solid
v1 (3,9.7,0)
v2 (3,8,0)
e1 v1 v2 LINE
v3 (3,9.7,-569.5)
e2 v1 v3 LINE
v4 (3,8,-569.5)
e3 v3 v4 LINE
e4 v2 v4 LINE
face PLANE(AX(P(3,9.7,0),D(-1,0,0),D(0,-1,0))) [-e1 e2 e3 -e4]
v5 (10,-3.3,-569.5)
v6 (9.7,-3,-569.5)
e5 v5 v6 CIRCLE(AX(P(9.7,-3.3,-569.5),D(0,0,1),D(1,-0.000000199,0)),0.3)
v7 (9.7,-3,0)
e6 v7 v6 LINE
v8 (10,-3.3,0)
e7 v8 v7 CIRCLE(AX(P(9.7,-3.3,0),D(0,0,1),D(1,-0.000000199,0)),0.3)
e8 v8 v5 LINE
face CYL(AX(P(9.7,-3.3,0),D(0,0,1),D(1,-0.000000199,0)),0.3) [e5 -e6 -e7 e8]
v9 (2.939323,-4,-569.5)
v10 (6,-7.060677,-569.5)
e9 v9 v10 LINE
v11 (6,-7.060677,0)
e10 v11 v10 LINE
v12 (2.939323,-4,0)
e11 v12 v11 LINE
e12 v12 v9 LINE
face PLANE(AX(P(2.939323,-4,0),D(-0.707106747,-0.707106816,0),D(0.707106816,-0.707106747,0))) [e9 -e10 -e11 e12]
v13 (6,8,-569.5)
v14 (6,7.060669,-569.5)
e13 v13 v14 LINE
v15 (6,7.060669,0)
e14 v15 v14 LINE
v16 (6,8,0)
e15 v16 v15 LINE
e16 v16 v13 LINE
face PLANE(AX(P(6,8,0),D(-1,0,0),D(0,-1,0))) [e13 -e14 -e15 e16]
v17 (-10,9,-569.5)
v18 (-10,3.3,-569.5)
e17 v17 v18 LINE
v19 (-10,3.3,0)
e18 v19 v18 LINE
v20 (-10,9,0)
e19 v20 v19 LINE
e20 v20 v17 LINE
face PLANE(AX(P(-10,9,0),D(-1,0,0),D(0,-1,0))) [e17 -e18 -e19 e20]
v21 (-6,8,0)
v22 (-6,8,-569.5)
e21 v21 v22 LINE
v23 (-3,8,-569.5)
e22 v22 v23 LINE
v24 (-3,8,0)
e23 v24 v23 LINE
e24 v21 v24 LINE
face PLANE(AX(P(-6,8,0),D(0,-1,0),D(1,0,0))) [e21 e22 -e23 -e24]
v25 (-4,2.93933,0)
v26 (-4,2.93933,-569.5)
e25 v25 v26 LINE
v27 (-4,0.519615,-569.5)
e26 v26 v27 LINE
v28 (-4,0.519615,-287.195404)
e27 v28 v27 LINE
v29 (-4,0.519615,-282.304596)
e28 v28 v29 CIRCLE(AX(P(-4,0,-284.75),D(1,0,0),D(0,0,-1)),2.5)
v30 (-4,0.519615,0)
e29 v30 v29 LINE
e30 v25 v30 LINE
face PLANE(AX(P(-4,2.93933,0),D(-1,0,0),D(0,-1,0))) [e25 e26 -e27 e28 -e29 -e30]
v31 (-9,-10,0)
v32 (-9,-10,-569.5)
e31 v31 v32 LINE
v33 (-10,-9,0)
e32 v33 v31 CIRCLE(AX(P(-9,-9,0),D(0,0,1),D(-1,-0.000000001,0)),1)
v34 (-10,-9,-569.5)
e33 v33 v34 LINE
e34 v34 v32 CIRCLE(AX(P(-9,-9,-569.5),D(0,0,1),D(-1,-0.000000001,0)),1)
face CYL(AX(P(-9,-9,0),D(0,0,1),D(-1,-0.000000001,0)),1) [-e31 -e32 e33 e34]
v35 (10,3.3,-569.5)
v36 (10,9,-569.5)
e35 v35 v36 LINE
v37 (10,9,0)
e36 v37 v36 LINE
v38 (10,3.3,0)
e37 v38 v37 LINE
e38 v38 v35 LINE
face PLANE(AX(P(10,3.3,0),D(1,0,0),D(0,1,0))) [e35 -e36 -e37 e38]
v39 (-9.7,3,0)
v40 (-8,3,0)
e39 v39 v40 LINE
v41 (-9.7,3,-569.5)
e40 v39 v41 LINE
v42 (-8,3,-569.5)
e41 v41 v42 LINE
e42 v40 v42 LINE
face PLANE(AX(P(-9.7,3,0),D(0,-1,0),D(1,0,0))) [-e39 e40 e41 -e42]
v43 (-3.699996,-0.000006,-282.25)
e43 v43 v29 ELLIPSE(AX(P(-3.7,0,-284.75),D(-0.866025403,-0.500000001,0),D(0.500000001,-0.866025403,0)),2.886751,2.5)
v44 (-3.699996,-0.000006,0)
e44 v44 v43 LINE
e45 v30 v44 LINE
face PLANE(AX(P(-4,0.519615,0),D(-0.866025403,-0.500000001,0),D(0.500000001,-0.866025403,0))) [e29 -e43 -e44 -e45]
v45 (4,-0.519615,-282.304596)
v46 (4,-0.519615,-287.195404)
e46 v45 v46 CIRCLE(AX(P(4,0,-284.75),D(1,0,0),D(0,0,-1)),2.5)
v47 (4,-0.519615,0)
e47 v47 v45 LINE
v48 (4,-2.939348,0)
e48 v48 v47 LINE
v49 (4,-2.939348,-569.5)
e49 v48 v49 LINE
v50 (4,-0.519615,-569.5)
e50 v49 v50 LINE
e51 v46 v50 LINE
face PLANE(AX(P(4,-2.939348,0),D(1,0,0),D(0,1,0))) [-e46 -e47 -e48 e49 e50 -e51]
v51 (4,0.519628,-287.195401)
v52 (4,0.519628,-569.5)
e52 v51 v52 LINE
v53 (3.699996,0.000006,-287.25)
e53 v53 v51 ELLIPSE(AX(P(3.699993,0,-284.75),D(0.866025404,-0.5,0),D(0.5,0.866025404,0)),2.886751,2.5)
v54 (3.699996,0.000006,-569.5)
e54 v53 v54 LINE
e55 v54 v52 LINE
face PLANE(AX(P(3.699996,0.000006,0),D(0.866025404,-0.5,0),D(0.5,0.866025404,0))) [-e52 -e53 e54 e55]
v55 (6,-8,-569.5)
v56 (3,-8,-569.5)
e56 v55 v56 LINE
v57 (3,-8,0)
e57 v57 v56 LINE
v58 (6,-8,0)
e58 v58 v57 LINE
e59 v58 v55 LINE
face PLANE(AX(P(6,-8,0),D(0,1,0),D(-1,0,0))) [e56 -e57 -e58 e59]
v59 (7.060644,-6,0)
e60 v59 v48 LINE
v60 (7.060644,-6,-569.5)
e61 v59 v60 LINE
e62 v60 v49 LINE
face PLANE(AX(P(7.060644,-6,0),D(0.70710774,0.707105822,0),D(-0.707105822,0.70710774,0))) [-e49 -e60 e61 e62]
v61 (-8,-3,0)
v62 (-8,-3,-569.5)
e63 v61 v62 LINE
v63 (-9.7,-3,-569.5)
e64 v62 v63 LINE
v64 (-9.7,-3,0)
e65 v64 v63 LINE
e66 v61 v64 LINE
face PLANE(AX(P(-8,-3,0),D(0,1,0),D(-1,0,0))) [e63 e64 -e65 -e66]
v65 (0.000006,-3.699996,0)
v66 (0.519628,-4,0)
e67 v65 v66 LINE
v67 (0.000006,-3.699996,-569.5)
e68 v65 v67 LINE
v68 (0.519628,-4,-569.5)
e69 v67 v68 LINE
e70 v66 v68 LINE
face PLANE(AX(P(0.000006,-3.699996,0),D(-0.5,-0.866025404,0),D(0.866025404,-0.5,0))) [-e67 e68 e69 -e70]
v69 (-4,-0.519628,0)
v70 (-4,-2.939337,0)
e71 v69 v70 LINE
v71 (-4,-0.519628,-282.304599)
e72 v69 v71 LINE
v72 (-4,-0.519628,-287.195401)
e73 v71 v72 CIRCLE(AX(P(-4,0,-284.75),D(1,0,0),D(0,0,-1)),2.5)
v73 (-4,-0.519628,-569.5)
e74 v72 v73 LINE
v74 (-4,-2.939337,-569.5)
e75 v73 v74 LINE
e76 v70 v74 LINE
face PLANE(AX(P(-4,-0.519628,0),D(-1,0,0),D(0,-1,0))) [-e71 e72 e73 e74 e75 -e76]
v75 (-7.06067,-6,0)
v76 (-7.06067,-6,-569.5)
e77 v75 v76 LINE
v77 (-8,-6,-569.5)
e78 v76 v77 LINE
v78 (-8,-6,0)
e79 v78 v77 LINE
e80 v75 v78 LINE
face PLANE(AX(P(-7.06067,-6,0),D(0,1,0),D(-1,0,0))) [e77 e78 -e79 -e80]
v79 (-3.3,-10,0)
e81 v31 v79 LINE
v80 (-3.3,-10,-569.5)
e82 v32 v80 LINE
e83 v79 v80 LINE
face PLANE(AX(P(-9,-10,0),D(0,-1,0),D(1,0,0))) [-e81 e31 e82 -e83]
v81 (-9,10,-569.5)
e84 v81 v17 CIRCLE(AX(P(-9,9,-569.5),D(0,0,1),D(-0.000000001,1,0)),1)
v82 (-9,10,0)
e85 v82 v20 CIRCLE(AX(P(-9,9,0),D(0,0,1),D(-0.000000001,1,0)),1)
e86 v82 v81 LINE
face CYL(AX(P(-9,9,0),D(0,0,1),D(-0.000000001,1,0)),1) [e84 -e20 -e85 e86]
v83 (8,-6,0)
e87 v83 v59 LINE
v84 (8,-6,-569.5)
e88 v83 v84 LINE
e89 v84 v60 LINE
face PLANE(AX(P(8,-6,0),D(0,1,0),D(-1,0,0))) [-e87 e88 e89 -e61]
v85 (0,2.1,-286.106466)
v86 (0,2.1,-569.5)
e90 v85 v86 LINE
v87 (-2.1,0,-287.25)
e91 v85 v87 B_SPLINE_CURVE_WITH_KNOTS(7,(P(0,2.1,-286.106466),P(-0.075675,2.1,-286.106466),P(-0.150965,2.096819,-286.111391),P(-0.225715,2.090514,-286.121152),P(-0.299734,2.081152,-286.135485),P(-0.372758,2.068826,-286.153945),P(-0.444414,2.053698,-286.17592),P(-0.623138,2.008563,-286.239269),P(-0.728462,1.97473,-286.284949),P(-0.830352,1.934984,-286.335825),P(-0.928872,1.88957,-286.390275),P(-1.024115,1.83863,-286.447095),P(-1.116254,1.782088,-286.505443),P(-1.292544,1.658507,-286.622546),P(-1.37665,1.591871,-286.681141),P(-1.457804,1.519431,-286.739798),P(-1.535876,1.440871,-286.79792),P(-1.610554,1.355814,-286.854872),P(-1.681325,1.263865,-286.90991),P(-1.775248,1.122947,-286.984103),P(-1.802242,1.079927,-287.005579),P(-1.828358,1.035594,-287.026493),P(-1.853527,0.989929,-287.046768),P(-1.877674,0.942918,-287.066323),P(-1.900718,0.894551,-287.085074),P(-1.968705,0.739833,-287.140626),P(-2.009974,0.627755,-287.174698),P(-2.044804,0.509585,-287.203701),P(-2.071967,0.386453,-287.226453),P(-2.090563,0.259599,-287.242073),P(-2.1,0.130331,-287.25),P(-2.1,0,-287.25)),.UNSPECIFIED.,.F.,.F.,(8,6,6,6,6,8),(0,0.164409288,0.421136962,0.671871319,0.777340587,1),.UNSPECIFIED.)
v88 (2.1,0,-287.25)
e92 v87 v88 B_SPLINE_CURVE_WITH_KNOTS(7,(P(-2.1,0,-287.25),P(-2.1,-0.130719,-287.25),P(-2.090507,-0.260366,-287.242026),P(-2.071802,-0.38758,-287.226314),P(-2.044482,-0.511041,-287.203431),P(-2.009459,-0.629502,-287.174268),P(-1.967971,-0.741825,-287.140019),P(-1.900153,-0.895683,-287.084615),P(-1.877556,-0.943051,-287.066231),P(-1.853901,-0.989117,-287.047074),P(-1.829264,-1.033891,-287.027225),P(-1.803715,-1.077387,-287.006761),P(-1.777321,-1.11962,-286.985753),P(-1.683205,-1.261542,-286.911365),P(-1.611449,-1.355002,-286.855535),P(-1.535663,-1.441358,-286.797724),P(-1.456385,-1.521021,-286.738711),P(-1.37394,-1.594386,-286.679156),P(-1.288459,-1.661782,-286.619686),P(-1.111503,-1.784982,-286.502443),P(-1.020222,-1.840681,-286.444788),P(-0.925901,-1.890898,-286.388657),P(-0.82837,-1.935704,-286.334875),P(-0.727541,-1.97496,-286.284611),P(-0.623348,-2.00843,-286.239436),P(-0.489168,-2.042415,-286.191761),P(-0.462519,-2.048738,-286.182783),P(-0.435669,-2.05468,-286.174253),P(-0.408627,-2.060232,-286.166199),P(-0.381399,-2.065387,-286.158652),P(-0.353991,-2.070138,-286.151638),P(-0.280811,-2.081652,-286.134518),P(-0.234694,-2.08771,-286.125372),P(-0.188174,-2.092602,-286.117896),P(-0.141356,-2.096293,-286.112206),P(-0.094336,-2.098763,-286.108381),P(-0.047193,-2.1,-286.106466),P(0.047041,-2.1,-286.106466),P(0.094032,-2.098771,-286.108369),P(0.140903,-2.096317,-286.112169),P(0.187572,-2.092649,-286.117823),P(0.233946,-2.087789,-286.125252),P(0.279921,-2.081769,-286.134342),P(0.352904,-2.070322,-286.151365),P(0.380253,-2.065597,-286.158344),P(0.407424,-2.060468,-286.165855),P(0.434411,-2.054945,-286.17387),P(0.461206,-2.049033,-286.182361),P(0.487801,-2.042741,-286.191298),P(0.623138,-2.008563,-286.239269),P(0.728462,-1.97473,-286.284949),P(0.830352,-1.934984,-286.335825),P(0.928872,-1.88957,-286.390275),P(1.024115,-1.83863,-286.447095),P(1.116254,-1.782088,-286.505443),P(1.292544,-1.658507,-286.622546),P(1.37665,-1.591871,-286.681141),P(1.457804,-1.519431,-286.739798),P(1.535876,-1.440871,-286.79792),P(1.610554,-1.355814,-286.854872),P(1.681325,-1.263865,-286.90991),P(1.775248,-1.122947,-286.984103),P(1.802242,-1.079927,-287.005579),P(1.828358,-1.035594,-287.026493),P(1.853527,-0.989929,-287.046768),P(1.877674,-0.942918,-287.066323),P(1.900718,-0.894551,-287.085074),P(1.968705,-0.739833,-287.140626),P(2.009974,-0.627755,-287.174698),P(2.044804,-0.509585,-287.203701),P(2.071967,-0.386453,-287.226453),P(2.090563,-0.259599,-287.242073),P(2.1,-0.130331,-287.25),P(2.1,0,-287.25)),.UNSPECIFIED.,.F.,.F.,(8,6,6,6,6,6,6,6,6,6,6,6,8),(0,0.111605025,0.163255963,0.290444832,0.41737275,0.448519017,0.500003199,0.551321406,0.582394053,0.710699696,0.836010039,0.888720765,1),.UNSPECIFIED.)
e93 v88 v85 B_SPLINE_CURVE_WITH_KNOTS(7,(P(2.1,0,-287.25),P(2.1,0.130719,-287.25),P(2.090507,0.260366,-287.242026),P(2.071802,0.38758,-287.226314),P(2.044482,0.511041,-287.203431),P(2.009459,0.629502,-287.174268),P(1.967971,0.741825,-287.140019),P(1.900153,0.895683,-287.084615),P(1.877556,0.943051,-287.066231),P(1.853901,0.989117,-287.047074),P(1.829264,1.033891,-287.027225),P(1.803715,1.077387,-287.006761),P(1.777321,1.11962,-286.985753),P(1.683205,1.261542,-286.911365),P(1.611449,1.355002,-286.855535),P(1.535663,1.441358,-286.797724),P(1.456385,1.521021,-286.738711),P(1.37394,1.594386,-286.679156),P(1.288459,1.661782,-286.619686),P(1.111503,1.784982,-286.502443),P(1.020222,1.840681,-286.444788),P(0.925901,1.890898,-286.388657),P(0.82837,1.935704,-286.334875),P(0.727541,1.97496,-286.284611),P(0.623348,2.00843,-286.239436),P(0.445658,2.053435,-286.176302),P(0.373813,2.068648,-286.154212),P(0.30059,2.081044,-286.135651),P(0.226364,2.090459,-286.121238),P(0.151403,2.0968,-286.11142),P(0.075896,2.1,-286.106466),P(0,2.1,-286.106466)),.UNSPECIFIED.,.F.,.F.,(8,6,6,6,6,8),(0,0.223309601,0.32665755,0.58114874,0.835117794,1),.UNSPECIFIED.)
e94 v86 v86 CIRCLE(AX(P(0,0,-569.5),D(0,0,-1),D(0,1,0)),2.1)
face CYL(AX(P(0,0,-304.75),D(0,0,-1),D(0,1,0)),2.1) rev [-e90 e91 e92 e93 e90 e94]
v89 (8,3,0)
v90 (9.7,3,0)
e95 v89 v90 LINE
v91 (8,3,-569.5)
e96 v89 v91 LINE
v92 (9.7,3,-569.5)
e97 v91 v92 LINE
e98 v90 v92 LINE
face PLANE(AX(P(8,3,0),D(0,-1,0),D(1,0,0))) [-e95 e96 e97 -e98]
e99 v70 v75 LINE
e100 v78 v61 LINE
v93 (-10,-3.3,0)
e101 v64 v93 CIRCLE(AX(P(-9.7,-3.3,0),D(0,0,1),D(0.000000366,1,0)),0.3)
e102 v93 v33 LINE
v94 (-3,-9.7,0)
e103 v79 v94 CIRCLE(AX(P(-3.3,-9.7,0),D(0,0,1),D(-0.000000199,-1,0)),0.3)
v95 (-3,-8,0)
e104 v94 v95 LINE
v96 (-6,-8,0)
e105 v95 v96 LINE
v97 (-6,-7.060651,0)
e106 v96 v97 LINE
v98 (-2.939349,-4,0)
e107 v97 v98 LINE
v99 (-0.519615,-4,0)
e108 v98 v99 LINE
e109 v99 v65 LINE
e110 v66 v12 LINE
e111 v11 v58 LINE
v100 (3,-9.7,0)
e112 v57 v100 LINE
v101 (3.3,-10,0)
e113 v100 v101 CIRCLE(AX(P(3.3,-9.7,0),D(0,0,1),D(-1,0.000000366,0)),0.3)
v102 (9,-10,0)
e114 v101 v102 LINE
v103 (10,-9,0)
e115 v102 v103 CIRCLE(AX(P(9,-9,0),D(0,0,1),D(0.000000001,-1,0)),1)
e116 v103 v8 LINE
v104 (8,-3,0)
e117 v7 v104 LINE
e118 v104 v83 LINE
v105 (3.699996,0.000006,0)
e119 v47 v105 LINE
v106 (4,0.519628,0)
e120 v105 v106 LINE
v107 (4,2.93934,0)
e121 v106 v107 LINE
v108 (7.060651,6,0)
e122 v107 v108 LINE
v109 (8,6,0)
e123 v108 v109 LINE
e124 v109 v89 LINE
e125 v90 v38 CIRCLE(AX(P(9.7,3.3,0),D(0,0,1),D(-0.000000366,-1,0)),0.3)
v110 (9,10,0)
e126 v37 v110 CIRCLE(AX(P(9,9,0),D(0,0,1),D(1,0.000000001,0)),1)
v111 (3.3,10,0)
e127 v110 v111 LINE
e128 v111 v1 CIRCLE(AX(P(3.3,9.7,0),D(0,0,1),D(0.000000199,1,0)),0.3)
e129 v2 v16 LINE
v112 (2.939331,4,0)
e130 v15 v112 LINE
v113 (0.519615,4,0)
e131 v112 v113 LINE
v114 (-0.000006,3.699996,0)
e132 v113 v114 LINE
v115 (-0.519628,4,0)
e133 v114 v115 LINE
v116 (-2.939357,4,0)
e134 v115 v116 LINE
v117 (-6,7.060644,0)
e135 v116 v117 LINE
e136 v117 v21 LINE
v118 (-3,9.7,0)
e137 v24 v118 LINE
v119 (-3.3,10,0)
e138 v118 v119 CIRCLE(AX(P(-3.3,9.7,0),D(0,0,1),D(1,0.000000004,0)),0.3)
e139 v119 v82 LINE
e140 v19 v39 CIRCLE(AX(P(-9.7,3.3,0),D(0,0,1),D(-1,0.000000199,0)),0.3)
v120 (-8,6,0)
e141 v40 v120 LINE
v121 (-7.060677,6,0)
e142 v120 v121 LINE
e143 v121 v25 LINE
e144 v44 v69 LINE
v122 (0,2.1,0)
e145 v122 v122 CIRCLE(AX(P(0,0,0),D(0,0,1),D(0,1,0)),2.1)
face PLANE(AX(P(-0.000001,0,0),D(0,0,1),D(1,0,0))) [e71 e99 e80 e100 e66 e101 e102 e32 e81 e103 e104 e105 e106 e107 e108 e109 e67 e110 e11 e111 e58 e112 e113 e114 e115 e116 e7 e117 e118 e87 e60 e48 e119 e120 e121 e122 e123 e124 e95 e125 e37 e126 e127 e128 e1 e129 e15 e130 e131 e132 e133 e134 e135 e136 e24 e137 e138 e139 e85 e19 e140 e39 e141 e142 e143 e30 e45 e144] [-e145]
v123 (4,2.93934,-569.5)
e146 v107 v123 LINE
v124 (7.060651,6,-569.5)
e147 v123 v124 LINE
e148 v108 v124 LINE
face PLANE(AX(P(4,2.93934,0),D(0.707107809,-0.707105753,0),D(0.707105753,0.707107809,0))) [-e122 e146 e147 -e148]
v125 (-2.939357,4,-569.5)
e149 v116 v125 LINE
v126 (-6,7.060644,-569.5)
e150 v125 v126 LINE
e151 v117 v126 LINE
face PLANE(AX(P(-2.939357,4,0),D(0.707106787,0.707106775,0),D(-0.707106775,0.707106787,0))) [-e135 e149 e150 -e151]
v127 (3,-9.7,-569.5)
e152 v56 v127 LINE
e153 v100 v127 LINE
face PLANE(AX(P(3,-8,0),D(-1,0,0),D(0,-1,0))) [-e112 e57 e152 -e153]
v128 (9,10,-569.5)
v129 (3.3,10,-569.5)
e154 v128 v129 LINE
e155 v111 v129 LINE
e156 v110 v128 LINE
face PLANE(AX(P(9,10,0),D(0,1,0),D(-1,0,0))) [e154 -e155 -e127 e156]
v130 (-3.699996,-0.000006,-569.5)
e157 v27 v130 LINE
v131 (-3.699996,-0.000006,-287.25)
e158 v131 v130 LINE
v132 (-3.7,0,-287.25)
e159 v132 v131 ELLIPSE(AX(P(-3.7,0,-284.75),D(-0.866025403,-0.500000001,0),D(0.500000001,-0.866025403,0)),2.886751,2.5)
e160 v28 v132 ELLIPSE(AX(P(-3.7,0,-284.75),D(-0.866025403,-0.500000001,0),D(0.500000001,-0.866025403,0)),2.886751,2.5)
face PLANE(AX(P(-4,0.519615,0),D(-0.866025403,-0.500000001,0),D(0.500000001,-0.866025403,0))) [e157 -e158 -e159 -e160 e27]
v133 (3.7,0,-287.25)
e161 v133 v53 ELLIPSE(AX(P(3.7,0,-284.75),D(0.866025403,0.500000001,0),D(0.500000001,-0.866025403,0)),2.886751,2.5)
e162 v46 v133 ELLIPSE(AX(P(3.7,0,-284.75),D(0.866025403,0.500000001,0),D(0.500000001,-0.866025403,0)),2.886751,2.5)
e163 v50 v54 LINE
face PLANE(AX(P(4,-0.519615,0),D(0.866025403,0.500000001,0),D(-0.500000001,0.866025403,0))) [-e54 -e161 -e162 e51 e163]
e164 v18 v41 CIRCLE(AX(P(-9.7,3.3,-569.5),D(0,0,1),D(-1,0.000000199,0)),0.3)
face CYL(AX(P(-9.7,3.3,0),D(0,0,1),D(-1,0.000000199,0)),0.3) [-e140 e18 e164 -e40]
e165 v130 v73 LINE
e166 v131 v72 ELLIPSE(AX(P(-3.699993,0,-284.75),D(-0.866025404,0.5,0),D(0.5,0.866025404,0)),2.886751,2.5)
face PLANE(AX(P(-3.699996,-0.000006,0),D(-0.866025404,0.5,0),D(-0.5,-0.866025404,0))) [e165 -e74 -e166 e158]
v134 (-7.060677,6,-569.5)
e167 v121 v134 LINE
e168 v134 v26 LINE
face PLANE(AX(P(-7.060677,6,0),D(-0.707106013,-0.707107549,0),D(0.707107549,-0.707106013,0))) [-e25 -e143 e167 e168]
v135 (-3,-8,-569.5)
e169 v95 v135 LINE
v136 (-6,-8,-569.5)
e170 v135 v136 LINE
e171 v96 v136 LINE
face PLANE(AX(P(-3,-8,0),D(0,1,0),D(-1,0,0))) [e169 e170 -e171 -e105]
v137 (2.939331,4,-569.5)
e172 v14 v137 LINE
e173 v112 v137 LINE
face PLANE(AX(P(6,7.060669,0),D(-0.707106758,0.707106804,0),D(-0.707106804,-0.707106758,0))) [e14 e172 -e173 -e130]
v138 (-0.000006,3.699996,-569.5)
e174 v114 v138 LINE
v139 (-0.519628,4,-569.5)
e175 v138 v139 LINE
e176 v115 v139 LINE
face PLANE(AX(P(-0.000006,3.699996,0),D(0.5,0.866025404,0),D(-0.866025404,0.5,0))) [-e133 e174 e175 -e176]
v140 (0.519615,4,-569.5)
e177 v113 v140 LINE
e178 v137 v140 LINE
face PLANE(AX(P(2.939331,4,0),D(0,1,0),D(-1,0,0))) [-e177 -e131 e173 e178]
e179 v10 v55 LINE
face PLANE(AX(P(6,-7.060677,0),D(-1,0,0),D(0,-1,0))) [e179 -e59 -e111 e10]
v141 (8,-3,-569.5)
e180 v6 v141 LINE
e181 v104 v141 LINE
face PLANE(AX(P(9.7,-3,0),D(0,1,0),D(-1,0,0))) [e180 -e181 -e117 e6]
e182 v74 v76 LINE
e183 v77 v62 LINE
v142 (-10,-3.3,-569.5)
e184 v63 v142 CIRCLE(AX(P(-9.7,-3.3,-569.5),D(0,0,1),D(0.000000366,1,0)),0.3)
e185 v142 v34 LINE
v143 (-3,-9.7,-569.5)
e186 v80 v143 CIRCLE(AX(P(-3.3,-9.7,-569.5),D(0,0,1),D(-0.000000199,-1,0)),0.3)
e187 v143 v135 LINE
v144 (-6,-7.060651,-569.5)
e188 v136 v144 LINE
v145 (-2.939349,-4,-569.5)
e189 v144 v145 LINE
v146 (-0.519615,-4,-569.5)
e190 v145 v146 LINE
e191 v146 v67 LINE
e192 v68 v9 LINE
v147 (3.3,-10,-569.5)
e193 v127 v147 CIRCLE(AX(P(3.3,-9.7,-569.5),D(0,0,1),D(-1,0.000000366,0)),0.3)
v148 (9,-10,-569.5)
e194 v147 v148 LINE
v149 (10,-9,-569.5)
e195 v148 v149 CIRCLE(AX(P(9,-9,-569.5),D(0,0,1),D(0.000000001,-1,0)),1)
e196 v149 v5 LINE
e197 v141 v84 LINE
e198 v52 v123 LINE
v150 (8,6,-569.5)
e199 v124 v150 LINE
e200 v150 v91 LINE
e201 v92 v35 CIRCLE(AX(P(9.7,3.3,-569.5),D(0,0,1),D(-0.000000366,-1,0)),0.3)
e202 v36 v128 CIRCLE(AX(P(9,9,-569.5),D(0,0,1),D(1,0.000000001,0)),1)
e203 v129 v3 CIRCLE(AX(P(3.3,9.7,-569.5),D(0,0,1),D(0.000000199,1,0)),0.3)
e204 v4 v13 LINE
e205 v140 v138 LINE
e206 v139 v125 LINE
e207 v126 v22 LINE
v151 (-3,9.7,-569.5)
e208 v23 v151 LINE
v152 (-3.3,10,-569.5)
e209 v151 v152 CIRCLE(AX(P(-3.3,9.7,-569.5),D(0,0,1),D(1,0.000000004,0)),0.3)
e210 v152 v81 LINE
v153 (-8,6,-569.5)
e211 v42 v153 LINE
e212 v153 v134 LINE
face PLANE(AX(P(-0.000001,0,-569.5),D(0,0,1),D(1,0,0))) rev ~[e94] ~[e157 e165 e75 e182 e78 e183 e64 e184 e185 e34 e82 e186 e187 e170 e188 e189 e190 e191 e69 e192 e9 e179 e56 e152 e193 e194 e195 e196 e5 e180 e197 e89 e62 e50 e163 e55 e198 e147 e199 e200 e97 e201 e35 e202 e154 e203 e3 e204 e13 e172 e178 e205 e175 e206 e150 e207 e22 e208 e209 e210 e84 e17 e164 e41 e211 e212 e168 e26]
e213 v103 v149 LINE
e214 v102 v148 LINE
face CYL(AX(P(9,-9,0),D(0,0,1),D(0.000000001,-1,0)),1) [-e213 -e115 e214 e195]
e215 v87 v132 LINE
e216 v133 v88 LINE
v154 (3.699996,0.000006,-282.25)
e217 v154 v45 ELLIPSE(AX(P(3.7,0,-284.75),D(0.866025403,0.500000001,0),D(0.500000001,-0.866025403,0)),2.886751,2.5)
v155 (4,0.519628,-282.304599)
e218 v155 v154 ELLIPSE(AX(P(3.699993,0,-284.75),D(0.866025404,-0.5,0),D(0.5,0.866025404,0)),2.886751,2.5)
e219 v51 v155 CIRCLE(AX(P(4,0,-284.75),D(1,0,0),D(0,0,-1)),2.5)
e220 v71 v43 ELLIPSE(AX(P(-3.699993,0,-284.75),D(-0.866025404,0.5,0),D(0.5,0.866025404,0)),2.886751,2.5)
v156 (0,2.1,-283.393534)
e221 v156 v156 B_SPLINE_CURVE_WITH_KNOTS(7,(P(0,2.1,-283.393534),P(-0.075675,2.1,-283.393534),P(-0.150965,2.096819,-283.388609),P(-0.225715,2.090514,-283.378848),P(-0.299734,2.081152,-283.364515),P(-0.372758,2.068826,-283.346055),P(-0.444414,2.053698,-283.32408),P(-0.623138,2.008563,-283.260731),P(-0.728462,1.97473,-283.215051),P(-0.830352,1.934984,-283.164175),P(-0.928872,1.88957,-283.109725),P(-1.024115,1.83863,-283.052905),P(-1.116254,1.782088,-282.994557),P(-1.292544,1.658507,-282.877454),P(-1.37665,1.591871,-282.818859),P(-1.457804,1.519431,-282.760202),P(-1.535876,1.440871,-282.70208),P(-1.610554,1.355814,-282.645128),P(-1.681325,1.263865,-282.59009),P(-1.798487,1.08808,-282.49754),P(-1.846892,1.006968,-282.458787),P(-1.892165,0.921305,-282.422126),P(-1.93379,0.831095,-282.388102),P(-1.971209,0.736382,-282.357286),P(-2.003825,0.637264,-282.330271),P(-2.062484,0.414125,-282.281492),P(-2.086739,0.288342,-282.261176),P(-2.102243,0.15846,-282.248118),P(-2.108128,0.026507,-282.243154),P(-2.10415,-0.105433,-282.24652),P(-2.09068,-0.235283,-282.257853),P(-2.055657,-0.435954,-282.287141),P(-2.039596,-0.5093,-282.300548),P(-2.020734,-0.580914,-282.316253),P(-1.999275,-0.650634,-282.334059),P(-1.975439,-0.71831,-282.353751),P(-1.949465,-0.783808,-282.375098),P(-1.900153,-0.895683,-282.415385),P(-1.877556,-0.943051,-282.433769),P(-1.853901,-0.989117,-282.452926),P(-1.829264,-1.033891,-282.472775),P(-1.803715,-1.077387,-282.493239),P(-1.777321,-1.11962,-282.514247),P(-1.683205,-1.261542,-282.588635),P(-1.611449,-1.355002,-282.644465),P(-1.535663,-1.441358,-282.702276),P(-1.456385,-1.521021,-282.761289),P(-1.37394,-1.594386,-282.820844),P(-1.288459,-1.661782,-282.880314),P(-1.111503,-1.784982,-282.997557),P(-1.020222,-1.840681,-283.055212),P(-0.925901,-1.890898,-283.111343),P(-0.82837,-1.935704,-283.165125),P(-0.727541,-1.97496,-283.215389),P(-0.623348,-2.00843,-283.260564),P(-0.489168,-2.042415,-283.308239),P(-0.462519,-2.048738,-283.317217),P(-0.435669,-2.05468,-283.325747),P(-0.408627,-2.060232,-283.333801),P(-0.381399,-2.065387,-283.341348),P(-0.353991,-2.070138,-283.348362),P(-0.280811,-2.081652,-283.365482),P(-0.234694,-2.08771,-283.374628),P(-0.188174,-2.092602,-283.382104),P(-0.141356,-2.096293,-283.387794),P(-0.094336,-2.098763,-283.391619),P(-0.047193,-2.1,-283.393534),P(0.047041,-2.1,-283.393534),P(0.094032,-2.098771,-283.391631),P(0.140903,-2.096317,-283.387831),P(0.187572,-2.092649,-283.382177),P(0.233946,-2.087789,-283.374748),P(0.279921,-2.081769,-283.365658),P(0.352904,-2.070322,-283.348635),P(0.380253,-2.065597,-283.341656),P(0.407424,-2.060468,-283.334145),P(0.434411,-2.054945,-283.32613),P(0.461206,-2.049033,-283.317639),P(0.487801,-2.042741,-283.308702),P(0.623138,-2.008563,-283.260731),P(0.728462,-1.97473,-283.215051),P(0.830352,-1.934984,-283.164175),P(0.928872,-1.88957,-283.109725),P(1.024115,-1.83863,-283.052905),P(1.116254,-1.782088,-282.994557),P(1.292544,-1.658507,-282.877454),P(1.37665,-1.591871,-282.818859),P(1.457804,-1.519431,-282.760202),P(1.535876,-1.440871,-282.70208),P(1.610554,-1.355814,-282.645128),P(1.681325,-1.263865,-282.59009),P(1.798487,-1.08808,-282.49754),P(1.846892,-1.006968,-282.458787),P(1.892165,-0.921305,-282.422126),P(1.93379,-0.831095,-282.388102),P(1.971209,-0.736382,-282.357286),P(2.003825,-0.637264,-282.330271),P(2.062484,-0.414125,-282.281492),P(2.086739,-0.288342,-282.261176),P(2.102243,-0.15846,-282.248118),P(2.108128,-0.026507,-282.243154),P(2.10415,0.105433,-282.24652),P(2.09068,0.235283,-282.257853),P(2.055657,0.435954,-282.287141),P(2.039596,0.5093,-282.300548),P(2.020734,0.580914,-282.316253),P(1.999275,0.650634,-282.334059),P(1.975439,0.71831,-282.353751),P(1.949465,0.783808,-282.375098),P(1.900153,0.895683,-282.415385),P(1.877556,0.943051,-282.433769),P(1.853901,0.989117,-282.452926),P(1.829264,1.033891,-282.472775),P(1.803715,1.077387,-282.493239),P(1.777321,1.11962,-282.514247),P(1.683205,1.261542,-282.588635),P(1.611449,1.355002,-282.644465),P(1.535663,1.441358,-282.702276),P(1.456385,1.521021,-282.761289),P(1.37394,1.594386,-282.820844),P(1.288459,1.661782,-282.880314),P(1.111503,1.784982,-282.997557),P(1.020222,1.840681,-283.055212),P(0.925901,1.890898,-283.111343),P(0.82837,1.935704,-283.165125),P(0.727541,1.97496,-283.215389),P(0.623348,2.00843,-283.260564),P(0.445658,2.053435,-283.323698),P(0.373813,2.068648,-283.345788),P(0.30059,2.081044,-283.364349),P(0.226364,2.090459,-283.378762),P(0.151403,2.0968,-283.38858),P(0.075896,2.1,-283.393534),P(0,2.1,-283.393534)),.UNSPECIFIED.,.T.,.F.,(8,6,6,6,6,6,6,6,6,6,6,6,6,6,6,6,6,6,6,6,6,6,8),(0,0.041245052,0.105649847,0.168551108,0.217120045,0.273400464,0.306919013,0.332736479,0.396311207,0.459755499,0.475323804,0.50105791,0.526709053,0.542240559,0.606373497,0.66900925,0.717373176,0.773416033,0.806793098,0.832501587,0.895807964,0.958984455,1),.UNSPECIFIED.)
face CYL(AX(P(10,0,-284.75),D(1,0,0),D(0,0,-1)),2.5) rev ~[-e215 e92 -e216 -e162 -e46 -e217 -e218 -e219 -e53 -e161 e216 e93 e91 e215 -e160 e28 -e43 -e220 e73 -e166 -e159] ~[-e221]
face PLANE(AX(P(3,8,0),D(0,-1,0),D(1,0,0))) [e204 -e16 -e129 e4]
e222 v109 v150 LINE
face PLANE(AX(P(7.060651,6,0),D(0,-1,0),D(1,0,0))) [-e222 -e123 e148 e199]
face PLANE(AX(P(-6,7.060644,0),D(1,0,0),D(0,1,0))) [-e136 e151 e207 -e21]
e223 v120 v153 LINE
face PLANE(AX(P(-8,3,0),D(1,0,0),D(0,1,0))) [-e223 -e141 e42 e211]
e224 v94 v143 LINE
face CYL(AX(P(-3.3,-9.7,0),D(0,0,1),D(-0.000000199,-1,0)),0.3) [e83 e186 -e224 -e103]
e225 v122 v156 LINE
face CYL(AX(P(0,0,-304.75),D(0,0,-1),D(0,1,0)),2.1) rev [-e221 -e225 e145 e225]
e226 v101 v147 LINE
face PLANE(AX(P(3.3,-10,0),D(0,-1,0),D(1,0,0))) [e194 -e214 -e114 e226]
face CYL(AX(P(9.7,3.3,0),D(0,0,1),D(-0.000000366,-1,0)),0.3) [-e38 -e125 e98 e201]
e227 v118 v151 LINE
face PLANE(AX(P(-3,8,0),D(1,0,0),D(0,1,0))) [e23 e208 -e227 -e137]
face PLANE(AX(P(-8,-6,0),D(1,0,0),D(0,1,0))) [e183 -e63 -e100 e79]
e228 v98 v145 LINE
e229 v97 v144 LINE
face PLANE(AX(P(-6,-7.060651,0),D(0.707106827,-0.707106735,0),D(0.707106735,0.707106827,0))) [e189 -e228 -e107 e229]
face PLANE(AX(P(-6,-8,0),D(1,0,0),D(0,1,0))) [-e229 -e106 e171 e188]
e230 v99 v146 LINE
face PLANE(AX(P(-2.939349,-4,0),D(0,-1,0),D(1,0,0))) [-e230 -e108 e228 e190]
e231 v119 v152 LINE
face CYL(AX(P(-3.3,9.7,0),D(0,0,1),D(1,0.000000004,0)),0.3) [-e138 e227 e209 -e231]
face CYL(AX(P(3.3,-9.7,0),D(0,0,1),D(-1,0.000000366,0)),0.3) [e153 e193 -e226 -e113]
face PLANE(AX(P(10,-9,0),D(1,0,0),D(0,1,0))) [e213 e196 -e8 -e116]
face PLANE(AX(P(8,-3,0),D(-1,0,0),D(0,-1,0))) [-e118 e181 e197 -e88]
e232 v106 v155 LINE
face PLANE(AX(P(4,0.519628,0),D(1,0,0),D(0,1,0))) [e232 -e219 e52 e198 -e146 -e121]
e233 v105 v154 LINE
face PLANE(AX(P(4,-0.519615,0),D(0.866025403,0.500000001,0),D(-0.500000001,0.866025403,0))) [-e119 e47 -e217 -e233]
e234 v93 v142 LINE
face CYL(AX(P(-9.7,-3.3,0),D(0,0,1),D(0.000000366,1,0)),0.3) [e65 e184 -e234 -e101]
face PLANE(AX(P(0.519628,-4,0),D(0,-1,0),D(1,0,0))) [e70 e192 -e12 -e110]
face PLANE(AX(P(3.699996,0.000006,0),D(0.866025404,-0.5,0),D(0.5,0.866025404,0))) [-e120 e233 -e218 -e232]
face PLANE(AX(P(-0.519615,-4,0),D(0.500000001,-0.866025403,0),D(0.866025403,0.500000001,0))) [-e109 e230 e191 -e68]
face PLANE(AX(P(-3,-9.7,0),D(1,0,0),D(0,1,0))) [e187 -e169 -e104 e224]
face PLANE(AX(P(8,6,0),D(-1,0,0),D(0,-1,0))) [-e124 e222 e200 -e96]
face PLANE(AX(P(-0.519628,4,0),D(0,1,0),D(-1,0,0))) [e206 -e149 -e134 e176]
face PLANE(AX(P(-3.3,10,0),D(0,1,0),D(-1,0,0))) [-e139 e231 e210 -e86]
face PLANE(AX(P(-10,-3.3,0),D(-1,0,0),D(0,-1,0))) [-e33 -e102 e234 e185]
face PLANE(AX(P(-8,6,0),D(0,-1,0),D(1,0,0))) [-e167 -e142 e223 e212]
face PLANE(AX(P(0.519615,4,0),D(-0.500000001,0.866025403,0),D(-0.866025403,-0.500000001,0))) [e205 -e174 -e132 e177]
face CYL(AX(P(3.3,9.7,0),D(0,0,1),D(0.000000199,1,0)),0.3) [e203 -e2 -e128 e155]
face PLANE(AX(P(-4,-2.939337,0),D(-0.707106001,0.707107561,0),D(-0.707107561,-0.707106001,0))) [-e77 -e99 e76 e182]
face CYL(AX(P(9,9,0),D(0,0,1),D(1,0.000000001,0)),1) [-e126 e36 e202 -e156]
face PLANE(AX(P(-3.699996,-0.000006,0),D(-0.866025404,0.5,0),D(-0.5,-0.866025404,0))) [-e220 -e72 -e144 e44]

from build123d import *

# Parameters (mm, degrees)
BOSS_EXTRUDE1_DEPTH = 569.5
SKETCH2_W           = 609.5
SKETCH2_H           = 2.1
SKETCH3_R           = 2.5
CUT_EXTRUDE1_DEPTH  = 20


with BuildPart() as part:
    # Sketch1 → Boss-Extrude1 (new body)
    with BuildSketch(Plane.XY):
        with BuildLine():
            Line((-10, 9), (-10, 3.29999995))
            ThreePointArc((-10, 3.29999995), (-9.912132049, 3.087867916), (-9.7, 3))
            Line((-9.7, 3), (-8, 3))
            Line((-8, 3), (-8, 6))
            Line((-8, 6), (-7.060677, 6))
            Line((-7.060677, 6), (-4, 2.93932965))
            Line((-4, 2.93932965), (-4, 0.519615242))
            Line((-4, 0.519615242), (-3.699996283, -6.437e-06))
            Line((-3.699996283, -6.437e-06), (-4, -0.519628117))
            Line((-4, -0.519628117), (-4, -2.93933725))
            Line((-4, -2.93933725), (-7.0606695, -6))
            Line((-7.0606695, -6), (-8, -6))
            Line((-8, -6), (-8, -3))
            Line((-8, -3), (-9.7, -3))
            ThreePointArc((-9.7, -3), (-9.912132049, -3.087867916), (-10, -3.29999995))
            Line((-10, -3.29999995), (-10, -9))
            ThreePointArc((-10, -9), (-9.707106781, -9.707106781), (-9, -10))
            Line((-9, -10), (-3.29999995, -10))
            ThreePointArc((-3.29999995, -10), (-3.087867916, -9.912132049), (-3, -9.7))
            Line((-3, -9.7), (-3, -8))
            Line((-3, -8), (-6, -8))
            Line((-6, -8), (-6, -7.0606515))
            Line((-6, -7.0606515), (-2.9393489, -4))
            Line((-2.9393489, -4), (-0.519615242, -4))
            Line((-0.519615242, -4), (6.437e-06, -3.699996283))
            Line((6.437e-06, -3.699996283), (0.519628117, -4))
            Line((0.519628117, -4), (2.9393227, -4))
            Line((2.9393227, -4), (6, -7.060677))
            Line((6, -7.060677), (6, -8))
            Line((6, -8), (3, -8))
            Line((3, -8), (3, -9.7))
            ThreePointArc((3, -9.7), (3.087867916, -9.912132049), (3.29999995, -10))
            Line((3.29999995, -10), (9, -10))
            ThreePointArc((9, -10), (9.707106781, -9.707106781), (10, -9))
            Line((10, -9), (10, -3.29999995))
            ThreePointArc((10, -3.29999995), (9.912132049, -3.087867916), (9.7, -3))
            Line((9.7, -3), (8, -3))
            Line((8, -3), (8, -6))
            Line((8, -6), (7.0606435, -6))
            Line((7.0606435, -6), (4, -2.9393482))
            Line((4, -2.9393482), (4, -0.519615242))
            Line((4, -0.519615242), (3.699996283, 6.437e-06))
            Line((3.699996283, 6.437e-06), (4, 0.519628117))
            Line((4, 0.519628117), (4, 2.9393401))
            Line((4, 2.9393401), (7.060651, 6))
            Line((7.060651, 6), (8, 6))
            Line((8, 6), (8, 3))
            Line((8, 3), (9.7, 3))
            ThreePointArc((9.7, 3), (9.912132049, 3.087867916), (10, 3.29999995))
            Line((10, 3.29999995), (10, 9))
            ThreePointArc((10, 9), (9.707106781, 9.707106781), (9, 10))
            Line((9, 10), (3.29999995, 10))
            ThreePointArc((3.29999995, 10), (3.087867916, 9.912132049), (3, 9.7))
            Line((3, 9.7), (3, 8))
            Line((3, 8), (6, 8))
            Line((6, 8), (6, 7.060669))
            Line((6, 7.060669), (2.9393308, 4))
            Line((2.9393308, 4), (0.519615242, 4))
            Line((0.519615242, 4), (-6.437e-06, 3.699996283))
            Line((-6.437e-06, 3.699996283), (-0.519628117, 4))
            Line((-0.519628117, 4), (-2.93935655, 4))
            Line((-2.93935655, 4), (-6, 7.0606435))
            Line((-6, 7.0606435), (-6, 8))
            Line((-6, 8), (-3, 8))
            Line((-3, 8), (-3, 9.7))
            ThreePointArc((-3, 9.7), (-3.087867966, 9.912132034), (-3.3, 10))
            Line((-3.3, 10), (-9, 10))
            ThreePointArc((-9, 10), (-9.707106781, 9.707106781), (-10, 9))
        make_face()
    extrude(amount=-BOSS_EXTRUDE1_DEPTH)

    # Sketch2 → Cut-Revolve1 (revolve, cut)
    with BuildSketch(Plane(origin=(0, 0, 0), x_dir=(0, 0, -1), z_dir=(1, 0, 0))):
        with Locations((304.75, 1.05)):
            Rectangle(SKETCH2_W, SKETCH2_H)
    revolve(axis=Axis((0, 0, -609.5), (0, 0, 1)), mode=Mode.SUBTRACT)

    # Sketch3 → Cut-Extrude1 (cut)
    with BuildSketch(Plane(origin=(10, 0, 0), x_dir=(0, 0, -1), z_dir=(1, 0, 0))):
        with Locations((284.75, 0)):
            Circle(SKETCH3_R)
    extrude(amount=-CUT_EXTRUDE1_DEPTH, mode=Mode.SUBTRACT)


solid = part.part
